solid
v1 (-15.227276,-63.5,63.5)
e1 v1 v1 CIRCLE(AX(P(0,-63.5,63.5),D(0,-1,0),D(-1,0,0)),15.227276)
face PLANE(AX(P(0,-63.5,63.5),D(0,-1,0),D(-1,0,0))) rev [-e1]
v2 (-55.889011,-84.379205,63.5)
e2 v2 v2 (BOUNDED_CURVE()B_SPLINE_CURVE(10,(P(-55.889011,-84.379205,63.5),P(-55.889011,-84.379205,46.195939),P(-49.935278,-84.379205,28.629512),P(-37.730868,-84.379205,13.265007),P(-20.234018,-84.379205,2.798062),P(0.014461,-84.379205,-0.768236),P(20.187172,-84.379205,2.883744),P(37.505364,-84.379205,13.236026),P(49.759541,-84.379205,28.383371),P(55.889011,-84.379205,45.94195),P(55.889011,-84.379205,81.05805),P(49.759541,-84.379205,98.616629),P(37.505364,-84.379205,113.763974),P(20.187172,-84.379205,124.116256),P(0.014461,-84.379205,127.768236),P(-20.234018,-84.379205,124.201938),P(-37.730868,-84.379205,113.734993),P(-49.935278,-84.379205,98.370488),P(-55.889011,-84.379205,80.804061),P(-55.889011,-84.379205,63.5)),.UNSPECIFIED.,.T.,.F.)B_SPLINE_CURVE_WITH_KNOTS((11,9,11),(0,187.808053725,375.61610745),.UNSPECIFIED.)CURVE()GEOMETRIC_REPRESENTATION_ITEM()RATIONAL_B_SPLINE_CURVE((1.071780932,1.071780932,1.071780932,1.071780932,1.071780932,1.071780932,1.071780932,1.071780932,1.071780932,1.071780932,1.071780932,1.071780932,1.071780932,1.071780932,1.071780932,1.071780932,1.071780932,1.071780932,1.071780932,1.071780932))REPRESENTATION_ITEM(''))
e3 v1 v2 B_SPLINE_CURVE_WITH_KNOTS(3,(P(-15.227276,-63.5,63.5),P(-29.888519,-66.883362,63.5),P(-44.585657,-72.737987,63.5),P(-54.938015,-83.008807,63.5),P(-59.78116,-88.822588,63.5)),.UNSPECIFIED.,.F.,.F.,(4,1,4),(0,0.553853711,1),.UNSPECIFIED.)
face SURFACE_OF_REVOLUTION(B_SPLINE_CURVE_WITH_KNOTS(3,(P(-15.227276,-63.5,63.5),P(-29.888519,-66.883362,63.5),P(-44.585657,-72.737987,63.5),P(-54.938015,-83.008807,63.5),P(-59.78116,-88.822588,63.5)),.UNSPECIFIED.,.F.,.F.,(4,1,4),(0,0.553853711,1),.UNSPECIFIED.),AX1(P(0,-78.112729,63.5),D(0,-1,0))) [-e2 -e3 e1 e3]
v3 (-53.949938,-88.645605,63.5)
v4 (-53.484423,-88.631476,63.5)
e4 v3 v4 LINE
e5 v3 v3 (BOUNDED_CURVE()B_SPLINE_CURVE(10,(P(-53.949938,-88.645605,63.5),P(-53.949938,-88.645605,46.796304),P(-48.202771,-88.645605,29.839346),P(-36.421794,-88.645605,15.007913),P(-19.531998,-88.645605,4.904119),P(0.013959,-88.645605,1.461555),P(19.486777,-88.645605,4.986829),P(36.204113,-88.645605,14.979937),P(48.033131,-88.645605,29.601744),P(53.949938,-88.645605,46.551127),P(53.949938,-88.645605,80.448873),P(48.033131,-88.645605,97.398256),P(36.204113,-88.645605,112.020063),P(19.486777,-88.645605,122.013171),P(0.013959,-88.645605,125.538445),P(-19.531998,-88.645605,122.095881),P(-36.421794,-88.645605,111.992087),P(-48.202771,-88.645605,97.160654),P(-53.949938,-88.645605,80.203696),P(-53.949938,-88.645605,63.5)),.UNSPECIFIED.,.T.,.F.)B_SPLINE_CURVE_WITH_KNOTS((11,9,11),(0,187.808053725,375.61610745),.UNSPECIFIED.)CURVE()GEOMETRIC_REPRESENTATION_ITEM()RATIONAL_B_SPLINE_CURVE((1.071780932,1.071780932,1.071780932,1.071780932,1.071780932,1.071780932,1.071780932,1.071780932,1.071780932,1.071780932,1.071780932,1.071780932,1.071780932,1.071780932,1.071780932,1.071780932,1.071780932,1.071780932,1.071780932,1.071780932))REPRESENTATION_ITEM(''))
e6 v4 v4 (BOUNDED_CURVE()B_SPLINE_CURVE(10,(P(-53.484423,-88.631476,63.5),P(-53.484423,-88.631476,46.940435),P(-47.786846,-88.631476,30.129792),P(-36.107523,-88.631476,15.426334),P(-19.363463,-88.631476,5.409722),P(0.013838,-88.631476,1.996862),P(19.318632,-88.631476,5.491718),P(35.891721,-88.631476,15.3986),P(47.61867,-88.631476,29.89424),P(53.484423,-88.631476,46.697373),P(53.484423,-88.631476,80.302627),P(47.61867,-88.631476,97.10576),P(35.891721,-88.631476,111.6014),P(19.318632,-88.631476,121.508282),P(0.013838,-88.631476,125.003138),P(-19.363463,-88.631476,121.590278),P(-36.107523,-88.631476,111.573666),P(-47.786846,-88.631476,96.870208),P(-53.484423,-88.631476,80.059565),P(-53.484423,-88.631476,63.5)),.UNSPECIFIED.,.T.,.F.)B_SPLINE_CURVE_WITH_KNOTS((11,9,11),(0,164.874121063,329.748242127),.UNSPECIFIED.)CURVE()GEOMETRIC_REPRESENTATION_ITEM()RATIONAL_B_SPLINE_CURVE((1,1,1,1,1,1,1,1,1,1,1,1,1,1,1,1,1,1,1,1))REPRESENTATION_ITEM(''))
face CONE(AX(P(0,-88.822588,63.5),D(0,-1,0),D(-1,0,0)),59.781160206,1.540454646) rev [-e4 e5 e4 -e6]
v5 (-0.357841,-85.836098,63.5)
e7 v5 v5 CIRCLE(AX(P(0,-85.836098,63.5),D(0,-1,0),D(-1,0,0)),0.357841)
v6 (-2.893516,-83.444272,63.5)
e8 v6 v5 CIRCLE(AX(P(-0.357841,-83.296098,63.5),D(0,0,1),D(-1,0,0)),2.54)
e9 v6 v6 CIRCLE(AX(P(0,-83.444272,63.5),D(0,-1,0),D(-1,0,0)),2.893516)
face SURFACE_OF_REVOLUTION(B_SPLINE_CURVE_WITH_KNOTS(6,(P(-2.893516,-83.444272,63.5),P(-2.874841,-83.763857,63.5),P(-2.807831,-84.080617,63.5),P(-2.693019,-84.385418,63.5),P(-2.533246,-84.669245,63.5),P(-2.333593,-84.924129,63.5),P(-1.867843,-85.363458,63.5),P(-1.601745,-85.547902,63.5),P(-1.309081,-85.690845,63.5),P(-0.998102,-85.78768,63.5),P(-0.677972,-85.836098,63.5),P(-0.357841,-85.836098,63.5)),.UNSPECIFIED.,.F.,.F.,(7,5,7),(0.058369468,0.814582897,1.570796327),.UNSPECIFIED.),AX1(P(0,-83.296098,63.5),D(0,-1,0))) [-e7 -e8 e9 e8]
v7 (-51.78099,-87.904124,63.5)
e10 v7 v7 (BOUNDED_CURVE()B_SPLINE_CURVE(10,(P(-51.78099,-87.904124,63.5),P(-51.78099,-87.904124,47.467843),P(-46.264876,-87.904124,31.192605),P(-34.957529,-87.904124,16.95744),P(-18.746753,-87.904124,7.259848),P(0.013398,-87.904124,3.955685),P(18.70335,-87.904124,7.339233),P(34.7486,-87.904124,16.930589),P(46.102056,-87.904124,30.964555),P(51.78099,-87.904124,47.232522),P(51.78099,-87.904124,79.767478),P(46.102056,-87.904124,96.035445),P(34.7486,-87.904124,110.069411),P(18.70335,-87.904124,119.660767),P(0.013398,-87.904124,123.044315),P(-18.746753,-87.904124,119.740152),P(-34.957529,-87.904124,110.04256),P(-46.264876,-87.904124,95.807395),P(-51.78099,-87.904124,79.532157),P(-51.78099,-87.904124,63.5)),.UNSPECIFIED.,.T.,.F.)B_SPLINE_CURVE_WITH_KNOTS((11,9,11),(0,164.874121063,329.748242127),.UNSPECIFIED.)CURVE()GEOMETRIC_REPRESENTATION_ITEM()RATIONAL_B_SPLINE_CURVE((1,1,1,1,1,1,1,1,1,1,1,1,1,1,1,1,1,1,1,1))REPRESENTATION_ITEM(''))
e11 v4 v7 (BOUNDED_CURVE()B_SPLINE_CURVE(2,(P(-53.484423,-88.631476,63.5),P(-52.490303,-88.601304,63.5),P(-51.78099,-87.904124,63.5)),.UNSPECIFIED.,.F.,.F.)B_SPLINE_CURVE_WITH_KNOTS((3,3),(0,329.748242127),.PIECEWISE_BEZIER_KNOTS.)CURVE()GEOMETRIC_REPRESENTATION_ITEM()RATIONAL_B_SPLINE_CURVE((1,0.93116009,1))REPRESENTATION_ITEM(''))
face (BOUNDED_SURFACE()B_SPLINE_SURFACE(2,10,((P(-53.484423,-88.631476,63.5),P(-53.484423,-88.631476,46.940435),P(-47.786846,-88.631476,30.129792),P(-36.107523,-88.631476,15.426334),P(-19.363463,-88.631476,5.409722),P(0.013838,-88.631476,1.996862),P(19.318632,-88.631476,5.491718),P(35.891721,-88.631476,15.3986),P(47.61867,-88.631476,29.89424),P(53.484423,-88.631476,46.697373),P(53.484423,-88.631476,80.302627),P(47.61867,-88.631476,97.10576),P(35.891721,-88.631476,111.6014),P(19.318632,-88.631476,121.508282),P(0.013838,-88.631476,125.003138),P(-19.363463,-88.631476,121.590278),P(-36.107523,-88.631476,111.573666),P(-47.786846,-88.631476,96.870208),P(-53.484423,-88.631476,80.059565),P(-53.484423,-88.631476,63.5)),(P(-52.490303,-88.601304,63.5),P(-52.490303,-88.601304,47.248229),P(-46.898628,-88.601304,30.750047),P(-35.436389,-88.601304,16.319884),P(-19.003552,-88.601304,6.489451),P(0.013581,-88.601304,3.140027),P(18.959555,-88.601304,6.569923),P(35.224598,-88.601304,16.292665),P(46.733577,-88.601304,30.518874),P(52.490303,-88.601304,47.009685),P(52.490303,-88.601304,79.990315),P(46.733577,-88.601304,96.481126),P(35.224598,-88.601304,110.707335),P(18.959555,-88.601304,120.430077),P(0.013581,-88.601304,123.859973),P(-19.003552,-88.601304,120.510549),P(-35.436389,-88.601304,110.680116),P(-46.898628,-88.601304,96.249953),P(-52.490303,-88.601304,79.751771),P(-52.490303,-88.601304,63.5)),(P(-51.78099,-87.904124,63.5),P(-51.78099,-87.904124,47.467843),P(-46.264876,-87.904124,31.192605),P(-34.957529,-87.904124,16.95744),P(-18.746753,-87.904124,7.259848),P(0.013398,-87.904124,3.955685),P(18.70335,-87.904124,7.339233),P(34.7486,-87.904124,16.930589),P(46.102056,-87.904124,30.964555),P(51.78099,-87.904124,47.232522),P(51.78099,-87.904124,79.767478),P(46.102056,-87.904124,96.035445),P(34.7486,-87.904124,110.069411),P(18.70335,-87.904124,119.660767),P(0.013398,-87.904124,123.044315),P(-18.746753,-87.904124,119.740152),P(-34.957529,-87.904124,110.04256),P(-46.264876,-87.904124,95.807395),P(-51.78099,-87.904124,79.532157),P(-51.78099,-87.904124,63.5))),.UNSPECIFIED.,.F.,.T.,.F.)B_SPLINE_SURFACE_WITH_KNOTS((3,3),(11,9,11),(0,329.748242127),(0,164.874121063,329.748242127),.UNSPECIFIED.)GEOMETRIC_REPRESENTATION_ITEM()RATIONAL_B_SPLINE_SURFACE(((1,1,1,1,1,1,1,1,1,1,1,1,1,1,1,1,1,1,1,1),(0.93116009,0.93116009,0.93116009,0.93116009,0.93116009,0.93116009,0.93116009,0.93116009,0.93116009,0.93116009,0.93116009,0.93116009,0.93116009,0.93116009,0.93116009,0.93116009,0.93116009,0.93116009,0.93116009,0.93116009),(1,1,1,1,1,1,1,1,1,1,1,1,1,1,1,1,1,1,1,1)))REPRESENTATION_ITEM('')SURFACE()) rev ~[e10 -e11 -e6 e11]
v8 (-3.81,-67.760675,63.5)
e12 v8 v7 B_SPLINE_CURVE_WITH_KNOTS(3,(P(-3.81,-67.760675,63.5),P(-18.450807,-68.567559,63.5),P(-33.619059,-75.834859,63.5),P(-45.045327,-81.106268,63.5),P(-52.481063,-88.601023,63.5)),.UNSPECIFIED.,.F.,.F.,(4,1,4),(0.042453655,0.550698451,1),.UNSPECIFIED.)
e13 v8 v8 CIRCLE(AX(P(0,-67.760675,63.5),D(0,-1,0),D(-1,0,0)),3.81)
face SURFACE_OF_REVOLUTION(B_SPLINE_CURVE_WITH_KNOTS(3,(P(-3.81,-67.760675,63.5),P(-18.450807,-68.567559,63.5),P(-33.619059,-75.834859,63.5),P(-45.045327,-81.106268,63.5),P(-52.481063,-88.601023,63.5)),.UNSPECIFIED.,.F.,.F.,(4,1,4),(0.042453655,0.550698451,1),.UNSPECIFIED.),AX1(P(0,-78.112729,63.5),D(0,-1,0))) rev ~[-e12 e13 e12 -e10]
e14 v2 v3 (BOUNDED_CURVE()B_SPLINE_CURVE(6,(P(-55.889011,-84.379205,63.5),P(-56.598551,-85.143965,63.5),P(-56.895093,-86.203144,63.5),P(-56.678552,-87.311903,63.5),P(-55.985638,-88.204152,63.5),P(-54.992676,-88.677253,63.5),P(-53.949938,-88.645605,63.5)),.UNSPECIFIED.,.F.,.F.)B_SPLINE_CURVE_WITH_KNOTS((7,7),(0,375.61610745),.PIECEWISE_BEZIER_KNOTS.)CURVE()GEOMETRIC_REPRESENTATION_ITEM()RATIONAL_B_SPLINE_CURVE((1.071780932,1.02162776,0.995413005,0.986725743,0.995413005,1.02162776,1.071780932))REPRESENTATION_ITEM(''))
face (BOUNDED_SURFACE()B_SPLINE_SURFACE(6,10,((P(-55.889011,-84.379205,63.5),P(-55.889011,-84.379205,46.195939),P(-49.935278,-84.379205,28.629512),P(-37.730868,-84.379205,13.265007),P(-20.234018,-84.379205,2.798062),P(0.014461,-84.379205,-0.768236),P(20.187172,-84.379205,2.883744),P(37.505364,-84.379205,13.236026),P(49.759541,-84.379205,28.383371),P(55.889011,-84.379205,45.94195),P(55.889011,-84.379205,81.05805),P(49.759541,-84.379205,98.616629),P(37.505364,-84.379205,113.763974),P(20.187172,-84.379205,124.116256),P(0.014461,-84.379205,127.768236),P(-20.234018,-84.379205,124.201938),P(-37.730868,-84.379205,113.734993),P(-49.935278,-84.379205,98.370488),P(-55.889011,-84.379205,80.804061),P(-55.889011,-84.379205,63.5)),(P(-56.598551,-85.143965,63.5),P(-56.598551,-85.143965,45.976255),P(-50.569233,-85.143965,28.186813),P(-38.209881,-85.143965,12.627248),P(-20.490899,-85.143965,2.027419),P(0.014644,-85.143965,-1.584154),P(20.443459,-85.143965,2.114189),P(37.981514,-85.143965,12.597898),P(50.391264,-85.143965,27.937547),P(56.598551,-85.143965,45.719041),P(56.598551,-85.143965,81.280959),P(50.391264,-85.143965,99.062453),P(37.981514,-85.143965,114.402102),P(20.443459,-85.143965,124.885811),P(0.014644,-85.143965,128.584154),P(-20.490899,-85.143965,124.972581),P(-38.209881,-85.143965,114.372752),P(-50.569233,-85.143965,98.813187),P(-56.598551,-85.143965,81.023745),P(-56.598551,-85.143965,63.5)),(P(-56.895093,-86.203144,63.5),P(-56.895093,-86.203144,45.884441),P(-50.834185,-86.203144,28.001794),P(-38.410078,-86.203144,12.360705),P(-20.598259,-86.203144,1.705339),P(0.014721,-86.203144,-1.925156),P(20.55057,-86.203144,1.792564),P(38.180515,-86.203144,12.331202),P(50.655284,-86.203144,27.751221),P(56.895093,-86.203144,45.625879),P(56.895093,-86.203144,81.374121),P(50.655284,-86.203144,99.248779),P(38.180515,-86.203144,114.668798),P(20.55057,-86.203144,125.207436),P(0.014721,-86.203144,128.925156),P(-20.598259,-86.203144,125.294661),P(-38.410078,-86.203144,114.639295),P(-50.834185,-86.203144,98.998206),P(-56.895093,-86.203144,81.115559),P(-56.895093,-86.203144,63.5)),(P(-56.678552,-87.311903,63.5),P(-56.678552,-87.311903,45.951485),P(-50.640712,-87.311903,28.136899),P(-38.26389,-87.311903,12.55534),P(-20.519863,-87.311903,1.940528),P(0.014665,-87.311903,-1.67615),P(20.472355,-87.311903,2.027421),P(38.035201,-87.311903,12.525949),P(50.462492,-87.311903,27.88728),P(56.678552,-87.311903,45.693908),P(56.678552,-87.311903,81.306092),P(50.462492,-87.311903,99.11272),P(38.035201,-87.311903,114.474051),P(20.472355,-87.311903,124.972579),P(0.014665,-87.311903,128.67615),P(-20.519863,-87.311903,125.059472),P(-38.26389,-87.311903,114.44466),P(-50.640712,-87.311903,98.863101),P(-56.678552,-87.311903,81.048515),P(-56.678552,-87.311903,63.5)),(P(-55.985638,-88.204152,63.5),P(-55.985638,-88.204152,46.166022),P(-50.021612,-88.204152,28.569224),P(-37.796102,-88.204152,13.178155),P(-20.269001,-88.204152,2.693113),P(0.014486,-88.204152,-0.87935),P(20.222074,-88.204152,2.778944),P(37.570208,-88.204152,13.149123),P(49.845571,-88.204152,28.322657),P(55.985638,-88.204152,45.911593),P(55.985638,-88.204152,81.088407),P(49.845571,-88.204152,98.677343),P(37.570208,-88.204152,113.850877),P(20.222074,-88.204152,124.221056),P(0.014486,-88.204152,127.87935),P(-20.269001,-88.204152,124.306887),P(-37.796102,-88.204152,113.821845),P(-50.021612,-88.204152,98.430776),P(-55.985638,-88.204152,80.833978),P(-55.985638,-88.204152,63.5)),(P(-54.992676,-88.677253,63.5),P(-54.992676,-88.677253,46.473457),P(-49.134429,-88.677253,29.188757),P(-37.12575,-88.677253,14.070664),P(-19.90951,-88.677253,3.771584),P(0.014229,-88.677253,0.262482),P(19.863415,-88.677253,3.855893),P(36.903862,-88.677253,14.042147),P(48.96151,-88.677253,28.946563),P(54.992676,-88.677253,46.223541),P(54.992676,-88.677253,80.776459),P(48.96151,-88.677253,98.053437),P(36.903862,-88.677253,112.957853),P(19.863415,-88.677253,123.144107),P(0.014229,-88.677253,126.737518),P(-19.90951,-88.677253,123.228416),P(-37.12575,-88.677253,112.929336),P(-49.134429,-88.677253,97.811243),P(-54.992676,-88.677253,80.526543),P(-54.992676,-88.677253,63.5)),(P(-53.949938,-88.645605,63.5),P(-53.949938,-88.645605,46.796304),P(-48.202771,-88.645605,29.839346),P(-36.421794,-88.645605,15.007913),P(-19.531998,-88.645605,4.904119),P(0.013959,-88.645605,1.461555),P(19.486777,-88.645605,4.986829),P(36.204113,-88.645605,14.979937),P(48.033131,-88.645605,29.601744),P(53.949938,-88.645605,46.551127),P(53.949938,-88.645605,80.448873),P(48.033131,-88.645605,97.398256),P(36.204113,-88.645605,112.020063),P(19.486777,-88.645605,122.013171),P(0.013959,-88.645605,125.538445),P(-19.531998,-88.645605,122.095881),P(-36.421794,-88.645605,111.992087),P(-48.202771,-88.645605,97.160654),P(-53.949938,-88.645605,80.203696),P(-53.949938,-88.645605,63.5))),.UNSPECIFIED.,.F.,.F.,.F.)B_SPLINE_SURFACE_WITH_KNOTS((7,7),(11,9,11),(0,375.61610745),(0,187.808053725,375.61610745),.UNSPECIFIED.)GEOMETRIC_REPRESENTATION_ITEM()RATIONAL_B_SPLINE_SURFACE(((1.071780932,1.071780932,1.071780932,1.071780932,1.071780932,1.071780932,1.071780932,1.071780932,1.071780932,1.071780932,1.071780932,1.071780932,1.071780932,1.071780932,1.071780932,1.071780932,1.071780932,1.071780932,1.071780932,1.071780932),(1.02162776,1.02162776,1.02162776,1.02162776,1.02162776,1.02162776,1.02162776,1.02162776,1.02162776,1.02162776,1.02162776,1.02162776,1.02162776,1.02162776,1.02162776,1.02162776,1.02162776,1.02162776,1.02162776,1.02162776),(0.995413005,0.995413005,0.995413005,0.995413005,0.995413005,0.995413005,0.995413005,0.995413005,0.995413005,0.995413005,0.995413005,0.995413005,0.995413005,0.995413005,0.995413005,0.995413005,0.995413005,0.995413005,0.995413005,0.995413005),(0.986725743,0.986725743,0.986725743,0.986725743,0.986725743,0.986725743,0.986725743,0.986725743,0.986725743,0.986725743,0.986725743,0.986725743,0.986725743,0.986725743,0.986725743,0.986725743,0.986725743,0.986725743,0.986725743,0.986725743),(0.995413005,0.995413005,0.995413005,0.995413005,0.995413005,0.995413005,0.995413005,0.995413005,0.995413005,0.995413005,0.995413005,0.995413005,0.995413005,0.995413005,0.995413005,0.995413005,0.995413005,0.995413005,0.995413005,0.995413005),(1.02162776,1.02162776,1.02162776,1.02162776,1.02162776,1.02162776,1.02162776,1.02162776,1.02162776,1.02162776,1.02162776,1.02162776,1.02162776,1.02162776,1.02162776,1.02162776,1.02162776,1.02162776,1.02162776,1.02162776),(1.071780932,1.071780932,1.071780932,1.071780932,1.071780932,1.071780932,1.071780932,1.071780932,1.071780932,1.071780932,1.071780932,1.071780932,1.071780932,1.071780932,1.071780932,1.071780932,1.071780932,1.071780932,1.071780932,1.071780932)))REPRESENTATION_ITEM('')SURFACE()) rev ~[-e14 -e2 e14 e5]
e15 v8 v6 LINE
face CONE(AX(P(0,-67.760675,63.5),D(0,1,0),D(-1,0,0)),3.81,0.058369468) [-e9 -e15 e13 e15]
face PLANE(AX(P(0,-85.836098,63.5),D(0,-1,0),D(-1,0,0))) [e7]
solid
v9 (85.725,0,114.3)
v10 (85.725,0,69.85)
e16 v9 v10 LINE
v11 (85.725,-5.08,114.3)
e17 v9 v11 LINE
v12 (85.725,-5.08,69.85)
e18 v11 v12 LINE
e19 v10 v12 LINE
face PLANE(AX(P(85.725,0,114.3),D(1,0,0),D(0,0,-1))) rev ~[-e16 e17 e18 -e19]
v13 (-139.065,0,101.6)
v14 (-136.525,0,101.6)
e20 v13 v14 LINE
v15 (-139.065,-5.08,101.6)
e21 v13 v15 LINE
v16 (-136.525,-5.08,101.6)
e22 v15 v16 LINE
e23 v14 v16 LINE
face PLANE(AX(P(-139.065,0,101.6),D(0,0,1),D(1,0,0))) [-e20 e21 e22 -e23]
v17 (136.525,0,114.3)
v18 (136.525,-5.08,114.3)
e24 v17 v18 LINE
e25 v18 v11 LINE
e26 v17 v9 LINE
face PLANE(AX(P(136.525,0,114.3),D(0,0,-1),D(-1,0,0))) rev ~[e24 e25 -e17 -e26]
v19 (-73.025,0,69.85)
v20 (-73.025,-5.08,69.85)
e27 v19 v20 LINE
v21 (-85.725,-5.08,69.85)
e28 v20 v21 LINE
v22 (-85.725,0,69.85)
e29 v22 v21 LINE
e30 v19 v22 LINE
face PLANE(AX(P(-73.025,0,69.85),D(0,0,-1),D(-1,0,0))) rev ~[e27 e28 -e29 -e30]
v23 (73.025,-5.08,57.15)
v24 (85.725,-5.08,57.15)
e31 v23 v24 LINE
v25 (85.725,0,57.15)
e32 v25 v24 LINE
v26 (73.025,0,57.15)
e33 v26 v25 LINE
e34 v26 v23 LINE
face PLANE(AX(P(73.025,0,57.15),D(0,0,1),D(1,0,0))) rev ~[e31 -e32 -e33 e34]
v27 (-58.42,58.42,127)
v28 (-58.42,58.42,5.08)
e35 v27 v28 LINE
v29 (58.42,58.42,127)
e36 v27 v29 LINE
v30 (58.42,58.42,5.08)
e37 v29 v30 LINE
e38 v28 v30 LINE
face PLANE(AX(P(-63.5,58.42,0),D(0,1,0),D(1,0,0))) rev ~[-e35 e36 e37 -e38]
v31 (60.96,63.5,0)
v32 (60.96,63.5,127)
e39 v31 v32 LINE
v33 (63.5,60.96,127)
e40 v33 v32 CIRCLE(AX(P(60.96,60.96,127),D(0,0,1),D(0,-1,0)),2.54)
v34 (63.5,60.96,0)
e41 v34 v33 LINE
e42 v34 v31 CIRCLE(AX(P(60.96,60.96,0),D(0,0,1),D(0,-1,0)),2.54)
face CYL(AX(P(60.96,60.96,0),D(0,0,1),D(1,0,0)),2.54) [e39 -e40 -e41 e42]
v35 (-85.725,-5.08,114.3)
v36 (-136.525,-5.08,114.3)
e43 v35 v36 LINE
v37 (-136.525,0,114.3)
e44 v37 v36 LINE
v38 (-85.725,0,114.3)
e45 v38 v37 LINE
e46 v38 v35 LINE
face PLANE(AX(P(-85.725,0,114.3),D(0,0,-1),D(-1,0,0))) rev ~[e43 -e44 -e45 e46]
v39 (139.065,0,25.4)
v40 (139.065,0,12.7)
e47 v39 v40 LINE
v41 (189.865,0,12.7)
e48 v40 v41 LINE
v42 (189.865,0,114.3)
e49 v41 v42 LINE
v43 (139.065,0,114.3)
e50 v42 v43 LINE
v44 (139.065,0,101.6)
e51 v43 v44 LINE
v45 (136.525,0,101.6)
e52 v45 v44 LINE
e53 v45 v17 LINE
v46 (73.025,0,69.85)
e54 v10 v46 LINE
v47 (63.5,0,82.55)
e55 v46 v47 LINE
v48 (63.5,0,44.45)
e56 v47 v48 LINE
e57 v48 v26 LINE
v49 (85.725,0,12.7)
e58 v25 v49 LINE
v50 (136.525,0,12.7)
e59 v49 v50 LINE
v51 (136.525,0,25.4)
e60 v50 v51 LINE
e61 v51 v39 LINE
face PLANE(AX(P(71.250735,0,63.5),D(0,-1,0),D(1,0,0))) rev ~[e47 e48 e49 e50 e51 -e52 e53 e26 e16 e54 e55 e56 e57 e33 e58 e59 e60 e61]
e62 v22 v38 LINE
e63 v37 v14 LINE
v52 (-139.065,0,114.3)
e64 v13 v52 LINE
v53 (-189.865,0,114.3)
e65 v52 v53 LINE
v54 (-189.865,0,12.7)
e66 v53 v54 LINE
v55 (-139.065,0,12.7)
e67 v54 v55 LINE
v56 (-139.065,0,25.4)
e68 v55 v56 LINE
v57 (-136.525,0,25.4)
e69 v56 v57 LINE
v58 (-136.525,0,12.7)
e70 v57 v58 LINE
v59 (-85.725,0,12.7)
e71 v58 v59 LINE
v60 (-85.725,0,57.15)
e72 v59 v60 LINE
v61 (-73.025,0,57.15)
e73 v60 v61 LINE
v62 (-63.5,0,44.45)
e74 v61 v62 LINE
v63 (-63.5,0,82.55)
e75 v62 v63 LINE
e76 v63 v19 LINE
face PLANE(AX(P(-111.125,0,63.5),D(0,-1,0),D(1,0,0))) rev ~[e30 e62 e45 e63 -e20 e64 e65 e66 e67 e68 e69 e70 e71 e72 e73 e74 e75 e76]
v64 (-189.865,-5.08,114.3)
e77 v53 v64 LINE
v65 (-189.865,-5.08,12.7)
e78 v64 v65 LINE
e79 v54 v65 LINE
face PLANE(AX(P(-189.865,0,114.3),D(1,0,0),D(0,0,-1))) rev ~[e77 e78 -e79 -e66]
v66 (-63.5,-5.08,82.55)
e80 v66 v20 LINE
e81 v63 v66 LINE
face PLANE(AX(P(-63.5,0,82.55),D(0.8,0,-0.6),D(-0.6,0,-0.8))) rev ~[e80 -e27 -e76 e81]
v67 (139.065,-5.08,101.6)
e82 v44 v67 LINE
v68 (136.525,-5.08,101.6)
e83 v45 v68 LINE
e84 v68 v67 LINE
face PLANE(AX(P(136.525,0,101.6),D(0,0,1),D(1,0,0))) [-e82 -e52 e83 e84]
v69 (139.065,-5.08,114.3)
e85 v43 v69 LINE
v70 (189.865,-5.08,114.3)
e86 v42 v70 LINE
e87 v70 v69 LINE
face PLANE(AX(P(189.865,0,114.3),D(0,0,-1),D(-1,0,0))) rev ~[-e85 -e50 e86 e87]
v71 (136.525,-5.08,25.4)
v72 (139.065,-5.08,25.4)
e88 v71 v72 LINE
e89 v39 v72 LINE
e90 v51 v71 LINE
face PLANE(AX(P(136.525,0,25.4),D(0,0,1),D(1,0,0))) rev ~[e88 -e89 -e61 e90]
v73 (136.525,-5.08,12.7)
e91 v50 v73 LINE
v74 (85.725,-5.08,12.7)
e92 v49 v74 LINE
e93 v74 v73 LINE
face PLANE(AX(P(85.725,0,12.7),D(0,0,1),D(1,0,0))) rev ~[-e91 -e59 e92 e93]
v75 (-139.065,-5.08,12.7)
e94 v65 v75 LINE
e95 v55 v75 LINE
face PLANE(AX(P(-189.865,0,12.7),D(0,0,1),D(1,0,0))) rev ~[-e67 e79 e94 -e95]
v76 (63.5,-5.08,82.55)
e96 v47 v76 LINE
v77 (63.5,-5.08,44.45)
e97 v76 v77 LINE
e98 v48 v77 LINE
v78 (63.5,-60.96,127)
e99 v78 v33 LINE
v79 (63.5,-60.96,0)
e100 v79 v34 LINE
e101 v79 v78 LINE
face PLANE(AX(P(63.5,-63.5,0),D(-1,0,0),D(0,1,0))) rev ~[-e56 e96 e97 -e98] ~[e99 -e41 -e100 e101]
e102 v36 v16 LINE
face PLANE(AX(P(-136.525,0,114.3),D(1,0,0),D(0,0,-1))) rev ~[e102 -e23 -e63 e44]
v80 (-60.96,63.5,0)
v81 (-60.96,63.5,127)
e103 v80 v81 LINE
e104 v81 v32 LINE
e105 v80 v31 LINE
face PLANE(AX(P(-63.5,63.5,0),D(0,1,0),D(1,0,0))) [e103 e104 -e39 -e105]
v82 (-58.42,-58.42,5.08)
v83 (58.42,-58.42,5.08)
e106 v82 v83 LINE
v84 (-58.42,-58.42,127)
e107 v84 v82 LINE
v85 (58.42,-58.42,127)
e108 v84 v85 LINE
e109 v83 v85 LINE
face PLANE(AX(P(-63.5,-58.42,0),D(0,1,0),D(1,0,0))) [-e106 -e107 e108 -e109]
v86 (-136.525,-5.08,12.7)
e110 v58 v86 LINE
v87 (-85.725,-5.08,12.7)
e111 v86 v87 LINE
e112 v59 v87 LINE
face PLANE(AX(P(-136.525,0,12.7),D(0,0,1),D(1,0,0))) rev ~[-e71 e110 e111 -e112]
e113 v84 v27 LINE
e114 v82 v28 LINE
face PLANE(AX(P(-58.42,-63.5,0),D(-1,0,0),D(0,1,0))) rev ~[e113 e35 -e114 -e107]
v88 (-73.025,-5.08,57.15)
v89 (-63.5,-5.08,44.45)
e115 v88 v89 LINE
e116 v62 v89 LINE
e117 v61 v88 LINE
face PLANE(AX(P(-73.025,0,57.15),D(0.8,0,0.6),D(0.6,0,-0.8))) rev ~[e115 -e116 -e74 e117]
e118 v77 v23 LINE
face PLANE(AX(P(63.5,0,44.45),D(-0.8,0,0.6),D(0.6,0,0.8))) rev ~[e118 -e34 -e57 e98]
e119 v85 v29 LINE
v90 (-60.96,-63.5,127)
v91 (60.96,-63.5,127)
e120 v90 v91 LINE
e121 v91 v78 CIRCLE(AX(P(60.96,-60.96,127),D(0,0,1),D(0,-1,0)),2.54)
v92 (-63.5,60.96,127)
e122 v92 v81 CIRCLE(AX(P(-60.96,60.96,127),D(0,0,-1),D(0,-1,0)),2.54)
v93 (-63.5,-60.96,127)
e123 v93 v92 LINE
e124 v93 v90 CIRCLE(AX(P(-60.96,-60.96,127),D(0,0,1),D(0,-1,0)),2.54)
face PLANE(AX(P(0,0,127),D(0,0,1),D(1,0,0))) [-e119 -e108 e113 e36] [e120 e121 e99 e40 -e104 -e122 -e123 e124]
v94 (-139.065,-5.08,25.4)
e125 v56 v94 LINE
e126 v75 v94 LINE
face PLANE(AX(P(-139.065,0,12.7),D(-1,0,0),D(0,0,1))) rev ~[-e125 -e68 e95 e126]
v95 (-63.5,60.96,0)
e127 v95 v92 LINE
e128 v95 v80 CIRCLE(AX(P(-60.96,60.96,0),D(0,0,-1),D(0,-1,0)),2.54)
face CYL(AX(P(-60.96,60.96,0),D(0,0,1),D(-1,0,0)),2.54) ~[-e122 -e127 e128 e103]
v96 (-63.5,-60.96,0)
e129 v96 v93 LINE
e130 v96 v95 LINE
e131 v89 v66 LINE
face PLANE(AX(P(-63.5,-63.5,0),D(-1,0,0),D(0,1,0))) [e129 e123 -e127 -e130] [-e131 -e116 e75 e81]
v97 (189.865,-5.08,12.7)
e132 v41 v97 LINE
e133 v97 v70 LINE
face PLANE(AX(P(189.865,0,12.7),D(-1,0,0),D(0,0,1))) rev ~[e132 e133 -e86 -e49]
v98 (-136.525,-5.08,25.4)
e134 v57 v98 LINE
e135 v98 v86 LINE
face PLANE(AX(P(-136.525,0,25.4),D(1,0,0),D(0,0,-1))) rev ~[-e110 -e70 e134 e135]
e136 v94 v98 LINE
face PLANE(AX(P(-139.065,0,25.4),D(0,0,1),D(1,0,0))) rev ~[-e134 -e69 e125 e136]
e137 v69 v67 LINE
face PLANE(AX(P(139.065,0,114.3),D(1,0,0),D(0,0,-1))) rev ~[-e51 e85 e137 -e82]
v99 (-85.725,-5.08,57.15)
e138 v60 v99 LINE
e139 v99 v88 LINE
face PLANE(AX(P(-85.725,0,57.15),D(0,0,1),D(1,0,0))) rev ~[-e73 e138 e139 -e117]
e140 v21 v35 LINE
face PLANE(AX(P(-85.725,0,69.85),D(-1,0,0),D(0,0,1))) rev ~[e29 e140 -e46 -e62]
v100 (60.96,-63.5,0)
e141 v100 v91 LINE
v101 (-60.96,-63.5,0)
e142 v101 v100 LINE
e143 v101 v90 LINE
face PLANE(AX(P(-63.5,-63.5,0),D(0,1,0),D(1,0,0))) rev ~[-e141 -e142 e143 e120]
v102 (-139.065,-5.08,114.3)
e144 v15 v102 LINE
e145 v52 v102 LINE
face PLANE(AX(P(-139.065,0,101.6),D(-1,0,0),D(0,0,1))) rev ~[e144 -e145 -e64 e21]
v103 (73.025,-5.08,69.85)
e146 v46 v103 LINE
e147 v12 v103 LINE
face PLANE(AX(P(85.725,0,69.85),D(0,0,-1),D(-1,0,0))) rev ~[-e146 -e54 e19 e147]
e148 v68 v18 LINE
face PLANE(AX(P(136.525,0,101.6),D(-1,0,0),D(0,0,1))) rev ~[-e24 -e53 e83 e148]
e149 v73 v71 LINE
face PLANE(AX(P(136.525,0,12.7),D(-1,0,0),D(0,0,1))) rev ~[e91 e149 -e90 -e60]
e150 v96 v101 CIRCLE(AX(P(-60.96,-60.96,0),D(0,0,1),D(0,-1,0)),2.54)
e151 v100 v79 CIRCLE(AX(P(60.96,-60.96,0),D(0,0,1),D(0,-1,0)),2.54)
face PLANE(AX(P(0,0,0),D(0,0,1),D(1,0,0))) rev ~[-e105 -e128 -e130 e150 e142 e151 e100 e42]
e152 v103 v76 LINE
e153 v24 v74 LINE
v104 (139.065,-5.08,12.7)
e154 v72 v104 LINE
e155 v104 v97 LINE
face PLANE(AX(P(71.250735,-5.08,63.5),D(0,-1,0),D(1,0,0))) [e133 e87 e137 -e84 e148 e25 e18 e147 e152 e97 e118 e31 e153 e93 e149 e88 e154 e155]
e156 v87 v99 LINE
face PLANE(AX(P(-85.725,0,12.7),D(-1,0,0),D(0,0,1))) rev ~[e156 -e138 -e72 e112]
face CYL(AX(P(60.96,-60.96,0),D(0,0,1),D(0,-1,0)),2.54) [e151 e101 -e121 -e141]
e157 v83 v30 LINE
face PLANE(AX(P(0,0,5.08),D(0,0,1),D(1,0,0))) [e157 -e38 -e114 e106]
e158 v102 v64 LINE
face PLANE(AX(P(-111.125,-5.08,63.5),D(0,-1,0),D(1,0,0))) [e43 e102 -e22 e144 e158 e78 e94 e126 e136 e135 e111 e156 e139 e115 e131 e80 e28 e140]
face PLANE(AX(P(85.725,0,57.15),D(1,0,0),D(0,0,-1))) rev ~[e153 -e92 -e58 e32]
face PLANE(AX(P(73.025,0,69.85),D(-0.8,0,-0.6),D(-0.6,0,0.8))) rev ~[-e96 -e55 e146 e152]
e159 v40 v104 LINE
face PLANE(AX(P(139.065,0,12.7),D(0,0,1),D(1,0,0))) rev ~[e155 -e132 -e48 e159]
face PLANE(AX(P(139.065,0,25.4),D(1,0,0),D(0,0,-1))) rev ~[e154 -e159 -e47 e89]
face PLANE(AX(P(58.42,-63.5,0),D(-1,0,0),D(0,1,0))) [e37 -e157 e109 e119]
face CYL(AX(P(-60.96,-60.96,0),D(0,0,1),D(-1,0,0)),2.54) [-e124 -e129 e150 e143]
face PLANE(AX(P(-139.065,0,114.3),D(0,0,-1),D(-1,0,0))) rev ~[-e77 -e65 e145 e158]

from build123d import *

# Parameters (mm, degrees)
F0_W      = 127
F0_H      = 127
F1_DEPTH  = 127
F2_T      = -5.08
F6_R      = 2.54
F11_R     = 2.54
F12_R     = 2.54
F13_W     = 2.54
F13_H     = 76.2
F14_DEPTH = 5.08


with BuildPart() as f1:
    # F0 (on Top) → F1 (new body)
    with BuildSketch(Plane.XY):
        Rectangle(F0_W, F0_H)
    extrude(amount=F1_DEPTH)

    # F2
    f2_openings = [f1.faces().sort_by_distance(p)[0] for p in [
        (0, 0, 127),
    ]]
    offset(amount=F2_T, openings=f2_openings)

    # F6
    f6_edges = [f1.edges().sort_by_distance(p)[0] for p in [
        (-63.5, -63.5, 63.5),
        (63.5, -63.5, 63.5),
        (63.5, 63.5, 63.5),
        (-63.5, 63.5, 63.5),
    ]]
    fillet(f6_edges, radius=F6_R)

    # F13 (on Front) → F14 (join)
    with BuildSketch(Plane.XZ):
        Polygon((-85.725, 114.3), (-136.525, 114.3), (-136.525, 101.6), (-136.525, 25.4), (-136.525, 12.7), (-85.725, 12.7), (-85.725, 57.15), (-85.725, 69.85), align=None)
        with Locations((-137.795, 63.5)):
            Rectangle(F13_W, F13_H)
        Polygon((-73.025, 69.85), (-85.725, 69.85), (-85.725, 57.15), (-73.025, 57.15), (-63.5, 44.45), (-63.5, 82.55), align=None)
        Polygon((-139.065, 25.4), (-139.065, 101.6), (-139.065, 114.3), (-189.865, 114.3), (-189.865, 12.7), (-139.065, 12.7), align=None)
        Polygon((85.725, 57.15), (85.725, 69.85), (73.025, 69.85), (63.5, 82.55), (63.5, 44.45), (73.025, 57.15), align=None)
        Polygon((85.725, 114.3), (85.725, 69.85), (85.725, 57.15), (85.725, 12.7), (136.525, 12.7), (136.525, 25.4), (136.525, 101.6), (136.525, 114.3), align=None)
        with Locations((137.795, 63.5)):
            Rectangle(F13_W, F13_H)
        Polygon((139.065, 114.3), (139.065, 101.6), (139.065, 25.4), (139.065, 12.7), (189.865, 12.7), (189.865, 114.3), align=None)
    extrude(amount=F14_DEPTH)


with BuildPart() as f10:
    # F8 (on offset) → F10 (revolve)
    with BuildSketch(Plane.XY.offset(63.5)):
        with BuildLine():
            Line((0, -85.8360975981), (0, -67.6244348288))
            add(Edge.make_bspline(
                [(0, -67.6244348288), (-1.3181296929, -67.6471609021), (-2.58705429, -67.6932761967), (-3.81, -67.7606751777)],
                knots=[0, 0, 0, 0, 0.0424536552, 0.0424536552, 0.0424536552, 0.0424536552], degree=3))
            Line((-3.81, -67.7606751777), (-2.7537473964, -85.8360975981))
            Line((-2.7537473964, -85.8360975981), (0, -85.8360975981))
        make_face()
        with BuildLine():
            add(Edge.make_bspline(
                [(0, -67.6244348288), (-1.3181296929, -67.6471609021), (-2.58705429, -67.6932761967), (-3.81, -67.7606751777)],
                knots=[0, 0, 0, 0, 0.0424536552, 0.0424536552, 0.0424536552, 0.0424536552], degree=3))
            Line((0, -67.6244348288), (0, -63.5))
            Line((0, -63.5), (-15.2272759005, -63.5))
            add(Edge.make_bspline(
                [(-15.2272759005, -63.5), (-29.8885186315, -66.8833619164), (-44.5856567443, -72.7379867121), (-54.9380147391, -83.0088070459), (-59.7811602056, -88.8225883245)],
                knots=[0, 0, 0, 0, 0.5538537115, 1, 1, 1, 1], degree=3))
            Line((-59.7811602056, -88.8225883245), (-52.4810627103, -88.6010231018))
            add(Edge.make_bspline(
                [(-3.81, -67.7606751777), (-18.4508074737, -68.5675593244), (-33.6190588324, -75.8348587349), (-45.0453271498, -81.1062681131), (-52.4810627103, -88.6010231018)],
                knots=[0.0424536552, 0.0424536552, 0.0424536552, 0.0424536552, 0.5506984514, 1, 1, 1, 1], degree=3))
        make_face()
    revolve(axis=Axis((0, -78.1127289653, 63.5), (0, -1, 0)))

    # F11
    f11_edges = [f10.edges().sort_by_distance(p)[0] for p in [
        (59.78116, -88.822588, 63.5),
        (52.481063, -88.601023, 63.5),
    ]]
    fillet(f11_edges, radius=F11_R)

    # F12
    f12_edges = [f10.edges().sort_by_distance(p)[0] for p in [
        (2.753747, -85.836098, 63.5),
    ]]
    fillet(f12_edges, radius=F12_R)


solid = Compound([f1.part, f10.part])
